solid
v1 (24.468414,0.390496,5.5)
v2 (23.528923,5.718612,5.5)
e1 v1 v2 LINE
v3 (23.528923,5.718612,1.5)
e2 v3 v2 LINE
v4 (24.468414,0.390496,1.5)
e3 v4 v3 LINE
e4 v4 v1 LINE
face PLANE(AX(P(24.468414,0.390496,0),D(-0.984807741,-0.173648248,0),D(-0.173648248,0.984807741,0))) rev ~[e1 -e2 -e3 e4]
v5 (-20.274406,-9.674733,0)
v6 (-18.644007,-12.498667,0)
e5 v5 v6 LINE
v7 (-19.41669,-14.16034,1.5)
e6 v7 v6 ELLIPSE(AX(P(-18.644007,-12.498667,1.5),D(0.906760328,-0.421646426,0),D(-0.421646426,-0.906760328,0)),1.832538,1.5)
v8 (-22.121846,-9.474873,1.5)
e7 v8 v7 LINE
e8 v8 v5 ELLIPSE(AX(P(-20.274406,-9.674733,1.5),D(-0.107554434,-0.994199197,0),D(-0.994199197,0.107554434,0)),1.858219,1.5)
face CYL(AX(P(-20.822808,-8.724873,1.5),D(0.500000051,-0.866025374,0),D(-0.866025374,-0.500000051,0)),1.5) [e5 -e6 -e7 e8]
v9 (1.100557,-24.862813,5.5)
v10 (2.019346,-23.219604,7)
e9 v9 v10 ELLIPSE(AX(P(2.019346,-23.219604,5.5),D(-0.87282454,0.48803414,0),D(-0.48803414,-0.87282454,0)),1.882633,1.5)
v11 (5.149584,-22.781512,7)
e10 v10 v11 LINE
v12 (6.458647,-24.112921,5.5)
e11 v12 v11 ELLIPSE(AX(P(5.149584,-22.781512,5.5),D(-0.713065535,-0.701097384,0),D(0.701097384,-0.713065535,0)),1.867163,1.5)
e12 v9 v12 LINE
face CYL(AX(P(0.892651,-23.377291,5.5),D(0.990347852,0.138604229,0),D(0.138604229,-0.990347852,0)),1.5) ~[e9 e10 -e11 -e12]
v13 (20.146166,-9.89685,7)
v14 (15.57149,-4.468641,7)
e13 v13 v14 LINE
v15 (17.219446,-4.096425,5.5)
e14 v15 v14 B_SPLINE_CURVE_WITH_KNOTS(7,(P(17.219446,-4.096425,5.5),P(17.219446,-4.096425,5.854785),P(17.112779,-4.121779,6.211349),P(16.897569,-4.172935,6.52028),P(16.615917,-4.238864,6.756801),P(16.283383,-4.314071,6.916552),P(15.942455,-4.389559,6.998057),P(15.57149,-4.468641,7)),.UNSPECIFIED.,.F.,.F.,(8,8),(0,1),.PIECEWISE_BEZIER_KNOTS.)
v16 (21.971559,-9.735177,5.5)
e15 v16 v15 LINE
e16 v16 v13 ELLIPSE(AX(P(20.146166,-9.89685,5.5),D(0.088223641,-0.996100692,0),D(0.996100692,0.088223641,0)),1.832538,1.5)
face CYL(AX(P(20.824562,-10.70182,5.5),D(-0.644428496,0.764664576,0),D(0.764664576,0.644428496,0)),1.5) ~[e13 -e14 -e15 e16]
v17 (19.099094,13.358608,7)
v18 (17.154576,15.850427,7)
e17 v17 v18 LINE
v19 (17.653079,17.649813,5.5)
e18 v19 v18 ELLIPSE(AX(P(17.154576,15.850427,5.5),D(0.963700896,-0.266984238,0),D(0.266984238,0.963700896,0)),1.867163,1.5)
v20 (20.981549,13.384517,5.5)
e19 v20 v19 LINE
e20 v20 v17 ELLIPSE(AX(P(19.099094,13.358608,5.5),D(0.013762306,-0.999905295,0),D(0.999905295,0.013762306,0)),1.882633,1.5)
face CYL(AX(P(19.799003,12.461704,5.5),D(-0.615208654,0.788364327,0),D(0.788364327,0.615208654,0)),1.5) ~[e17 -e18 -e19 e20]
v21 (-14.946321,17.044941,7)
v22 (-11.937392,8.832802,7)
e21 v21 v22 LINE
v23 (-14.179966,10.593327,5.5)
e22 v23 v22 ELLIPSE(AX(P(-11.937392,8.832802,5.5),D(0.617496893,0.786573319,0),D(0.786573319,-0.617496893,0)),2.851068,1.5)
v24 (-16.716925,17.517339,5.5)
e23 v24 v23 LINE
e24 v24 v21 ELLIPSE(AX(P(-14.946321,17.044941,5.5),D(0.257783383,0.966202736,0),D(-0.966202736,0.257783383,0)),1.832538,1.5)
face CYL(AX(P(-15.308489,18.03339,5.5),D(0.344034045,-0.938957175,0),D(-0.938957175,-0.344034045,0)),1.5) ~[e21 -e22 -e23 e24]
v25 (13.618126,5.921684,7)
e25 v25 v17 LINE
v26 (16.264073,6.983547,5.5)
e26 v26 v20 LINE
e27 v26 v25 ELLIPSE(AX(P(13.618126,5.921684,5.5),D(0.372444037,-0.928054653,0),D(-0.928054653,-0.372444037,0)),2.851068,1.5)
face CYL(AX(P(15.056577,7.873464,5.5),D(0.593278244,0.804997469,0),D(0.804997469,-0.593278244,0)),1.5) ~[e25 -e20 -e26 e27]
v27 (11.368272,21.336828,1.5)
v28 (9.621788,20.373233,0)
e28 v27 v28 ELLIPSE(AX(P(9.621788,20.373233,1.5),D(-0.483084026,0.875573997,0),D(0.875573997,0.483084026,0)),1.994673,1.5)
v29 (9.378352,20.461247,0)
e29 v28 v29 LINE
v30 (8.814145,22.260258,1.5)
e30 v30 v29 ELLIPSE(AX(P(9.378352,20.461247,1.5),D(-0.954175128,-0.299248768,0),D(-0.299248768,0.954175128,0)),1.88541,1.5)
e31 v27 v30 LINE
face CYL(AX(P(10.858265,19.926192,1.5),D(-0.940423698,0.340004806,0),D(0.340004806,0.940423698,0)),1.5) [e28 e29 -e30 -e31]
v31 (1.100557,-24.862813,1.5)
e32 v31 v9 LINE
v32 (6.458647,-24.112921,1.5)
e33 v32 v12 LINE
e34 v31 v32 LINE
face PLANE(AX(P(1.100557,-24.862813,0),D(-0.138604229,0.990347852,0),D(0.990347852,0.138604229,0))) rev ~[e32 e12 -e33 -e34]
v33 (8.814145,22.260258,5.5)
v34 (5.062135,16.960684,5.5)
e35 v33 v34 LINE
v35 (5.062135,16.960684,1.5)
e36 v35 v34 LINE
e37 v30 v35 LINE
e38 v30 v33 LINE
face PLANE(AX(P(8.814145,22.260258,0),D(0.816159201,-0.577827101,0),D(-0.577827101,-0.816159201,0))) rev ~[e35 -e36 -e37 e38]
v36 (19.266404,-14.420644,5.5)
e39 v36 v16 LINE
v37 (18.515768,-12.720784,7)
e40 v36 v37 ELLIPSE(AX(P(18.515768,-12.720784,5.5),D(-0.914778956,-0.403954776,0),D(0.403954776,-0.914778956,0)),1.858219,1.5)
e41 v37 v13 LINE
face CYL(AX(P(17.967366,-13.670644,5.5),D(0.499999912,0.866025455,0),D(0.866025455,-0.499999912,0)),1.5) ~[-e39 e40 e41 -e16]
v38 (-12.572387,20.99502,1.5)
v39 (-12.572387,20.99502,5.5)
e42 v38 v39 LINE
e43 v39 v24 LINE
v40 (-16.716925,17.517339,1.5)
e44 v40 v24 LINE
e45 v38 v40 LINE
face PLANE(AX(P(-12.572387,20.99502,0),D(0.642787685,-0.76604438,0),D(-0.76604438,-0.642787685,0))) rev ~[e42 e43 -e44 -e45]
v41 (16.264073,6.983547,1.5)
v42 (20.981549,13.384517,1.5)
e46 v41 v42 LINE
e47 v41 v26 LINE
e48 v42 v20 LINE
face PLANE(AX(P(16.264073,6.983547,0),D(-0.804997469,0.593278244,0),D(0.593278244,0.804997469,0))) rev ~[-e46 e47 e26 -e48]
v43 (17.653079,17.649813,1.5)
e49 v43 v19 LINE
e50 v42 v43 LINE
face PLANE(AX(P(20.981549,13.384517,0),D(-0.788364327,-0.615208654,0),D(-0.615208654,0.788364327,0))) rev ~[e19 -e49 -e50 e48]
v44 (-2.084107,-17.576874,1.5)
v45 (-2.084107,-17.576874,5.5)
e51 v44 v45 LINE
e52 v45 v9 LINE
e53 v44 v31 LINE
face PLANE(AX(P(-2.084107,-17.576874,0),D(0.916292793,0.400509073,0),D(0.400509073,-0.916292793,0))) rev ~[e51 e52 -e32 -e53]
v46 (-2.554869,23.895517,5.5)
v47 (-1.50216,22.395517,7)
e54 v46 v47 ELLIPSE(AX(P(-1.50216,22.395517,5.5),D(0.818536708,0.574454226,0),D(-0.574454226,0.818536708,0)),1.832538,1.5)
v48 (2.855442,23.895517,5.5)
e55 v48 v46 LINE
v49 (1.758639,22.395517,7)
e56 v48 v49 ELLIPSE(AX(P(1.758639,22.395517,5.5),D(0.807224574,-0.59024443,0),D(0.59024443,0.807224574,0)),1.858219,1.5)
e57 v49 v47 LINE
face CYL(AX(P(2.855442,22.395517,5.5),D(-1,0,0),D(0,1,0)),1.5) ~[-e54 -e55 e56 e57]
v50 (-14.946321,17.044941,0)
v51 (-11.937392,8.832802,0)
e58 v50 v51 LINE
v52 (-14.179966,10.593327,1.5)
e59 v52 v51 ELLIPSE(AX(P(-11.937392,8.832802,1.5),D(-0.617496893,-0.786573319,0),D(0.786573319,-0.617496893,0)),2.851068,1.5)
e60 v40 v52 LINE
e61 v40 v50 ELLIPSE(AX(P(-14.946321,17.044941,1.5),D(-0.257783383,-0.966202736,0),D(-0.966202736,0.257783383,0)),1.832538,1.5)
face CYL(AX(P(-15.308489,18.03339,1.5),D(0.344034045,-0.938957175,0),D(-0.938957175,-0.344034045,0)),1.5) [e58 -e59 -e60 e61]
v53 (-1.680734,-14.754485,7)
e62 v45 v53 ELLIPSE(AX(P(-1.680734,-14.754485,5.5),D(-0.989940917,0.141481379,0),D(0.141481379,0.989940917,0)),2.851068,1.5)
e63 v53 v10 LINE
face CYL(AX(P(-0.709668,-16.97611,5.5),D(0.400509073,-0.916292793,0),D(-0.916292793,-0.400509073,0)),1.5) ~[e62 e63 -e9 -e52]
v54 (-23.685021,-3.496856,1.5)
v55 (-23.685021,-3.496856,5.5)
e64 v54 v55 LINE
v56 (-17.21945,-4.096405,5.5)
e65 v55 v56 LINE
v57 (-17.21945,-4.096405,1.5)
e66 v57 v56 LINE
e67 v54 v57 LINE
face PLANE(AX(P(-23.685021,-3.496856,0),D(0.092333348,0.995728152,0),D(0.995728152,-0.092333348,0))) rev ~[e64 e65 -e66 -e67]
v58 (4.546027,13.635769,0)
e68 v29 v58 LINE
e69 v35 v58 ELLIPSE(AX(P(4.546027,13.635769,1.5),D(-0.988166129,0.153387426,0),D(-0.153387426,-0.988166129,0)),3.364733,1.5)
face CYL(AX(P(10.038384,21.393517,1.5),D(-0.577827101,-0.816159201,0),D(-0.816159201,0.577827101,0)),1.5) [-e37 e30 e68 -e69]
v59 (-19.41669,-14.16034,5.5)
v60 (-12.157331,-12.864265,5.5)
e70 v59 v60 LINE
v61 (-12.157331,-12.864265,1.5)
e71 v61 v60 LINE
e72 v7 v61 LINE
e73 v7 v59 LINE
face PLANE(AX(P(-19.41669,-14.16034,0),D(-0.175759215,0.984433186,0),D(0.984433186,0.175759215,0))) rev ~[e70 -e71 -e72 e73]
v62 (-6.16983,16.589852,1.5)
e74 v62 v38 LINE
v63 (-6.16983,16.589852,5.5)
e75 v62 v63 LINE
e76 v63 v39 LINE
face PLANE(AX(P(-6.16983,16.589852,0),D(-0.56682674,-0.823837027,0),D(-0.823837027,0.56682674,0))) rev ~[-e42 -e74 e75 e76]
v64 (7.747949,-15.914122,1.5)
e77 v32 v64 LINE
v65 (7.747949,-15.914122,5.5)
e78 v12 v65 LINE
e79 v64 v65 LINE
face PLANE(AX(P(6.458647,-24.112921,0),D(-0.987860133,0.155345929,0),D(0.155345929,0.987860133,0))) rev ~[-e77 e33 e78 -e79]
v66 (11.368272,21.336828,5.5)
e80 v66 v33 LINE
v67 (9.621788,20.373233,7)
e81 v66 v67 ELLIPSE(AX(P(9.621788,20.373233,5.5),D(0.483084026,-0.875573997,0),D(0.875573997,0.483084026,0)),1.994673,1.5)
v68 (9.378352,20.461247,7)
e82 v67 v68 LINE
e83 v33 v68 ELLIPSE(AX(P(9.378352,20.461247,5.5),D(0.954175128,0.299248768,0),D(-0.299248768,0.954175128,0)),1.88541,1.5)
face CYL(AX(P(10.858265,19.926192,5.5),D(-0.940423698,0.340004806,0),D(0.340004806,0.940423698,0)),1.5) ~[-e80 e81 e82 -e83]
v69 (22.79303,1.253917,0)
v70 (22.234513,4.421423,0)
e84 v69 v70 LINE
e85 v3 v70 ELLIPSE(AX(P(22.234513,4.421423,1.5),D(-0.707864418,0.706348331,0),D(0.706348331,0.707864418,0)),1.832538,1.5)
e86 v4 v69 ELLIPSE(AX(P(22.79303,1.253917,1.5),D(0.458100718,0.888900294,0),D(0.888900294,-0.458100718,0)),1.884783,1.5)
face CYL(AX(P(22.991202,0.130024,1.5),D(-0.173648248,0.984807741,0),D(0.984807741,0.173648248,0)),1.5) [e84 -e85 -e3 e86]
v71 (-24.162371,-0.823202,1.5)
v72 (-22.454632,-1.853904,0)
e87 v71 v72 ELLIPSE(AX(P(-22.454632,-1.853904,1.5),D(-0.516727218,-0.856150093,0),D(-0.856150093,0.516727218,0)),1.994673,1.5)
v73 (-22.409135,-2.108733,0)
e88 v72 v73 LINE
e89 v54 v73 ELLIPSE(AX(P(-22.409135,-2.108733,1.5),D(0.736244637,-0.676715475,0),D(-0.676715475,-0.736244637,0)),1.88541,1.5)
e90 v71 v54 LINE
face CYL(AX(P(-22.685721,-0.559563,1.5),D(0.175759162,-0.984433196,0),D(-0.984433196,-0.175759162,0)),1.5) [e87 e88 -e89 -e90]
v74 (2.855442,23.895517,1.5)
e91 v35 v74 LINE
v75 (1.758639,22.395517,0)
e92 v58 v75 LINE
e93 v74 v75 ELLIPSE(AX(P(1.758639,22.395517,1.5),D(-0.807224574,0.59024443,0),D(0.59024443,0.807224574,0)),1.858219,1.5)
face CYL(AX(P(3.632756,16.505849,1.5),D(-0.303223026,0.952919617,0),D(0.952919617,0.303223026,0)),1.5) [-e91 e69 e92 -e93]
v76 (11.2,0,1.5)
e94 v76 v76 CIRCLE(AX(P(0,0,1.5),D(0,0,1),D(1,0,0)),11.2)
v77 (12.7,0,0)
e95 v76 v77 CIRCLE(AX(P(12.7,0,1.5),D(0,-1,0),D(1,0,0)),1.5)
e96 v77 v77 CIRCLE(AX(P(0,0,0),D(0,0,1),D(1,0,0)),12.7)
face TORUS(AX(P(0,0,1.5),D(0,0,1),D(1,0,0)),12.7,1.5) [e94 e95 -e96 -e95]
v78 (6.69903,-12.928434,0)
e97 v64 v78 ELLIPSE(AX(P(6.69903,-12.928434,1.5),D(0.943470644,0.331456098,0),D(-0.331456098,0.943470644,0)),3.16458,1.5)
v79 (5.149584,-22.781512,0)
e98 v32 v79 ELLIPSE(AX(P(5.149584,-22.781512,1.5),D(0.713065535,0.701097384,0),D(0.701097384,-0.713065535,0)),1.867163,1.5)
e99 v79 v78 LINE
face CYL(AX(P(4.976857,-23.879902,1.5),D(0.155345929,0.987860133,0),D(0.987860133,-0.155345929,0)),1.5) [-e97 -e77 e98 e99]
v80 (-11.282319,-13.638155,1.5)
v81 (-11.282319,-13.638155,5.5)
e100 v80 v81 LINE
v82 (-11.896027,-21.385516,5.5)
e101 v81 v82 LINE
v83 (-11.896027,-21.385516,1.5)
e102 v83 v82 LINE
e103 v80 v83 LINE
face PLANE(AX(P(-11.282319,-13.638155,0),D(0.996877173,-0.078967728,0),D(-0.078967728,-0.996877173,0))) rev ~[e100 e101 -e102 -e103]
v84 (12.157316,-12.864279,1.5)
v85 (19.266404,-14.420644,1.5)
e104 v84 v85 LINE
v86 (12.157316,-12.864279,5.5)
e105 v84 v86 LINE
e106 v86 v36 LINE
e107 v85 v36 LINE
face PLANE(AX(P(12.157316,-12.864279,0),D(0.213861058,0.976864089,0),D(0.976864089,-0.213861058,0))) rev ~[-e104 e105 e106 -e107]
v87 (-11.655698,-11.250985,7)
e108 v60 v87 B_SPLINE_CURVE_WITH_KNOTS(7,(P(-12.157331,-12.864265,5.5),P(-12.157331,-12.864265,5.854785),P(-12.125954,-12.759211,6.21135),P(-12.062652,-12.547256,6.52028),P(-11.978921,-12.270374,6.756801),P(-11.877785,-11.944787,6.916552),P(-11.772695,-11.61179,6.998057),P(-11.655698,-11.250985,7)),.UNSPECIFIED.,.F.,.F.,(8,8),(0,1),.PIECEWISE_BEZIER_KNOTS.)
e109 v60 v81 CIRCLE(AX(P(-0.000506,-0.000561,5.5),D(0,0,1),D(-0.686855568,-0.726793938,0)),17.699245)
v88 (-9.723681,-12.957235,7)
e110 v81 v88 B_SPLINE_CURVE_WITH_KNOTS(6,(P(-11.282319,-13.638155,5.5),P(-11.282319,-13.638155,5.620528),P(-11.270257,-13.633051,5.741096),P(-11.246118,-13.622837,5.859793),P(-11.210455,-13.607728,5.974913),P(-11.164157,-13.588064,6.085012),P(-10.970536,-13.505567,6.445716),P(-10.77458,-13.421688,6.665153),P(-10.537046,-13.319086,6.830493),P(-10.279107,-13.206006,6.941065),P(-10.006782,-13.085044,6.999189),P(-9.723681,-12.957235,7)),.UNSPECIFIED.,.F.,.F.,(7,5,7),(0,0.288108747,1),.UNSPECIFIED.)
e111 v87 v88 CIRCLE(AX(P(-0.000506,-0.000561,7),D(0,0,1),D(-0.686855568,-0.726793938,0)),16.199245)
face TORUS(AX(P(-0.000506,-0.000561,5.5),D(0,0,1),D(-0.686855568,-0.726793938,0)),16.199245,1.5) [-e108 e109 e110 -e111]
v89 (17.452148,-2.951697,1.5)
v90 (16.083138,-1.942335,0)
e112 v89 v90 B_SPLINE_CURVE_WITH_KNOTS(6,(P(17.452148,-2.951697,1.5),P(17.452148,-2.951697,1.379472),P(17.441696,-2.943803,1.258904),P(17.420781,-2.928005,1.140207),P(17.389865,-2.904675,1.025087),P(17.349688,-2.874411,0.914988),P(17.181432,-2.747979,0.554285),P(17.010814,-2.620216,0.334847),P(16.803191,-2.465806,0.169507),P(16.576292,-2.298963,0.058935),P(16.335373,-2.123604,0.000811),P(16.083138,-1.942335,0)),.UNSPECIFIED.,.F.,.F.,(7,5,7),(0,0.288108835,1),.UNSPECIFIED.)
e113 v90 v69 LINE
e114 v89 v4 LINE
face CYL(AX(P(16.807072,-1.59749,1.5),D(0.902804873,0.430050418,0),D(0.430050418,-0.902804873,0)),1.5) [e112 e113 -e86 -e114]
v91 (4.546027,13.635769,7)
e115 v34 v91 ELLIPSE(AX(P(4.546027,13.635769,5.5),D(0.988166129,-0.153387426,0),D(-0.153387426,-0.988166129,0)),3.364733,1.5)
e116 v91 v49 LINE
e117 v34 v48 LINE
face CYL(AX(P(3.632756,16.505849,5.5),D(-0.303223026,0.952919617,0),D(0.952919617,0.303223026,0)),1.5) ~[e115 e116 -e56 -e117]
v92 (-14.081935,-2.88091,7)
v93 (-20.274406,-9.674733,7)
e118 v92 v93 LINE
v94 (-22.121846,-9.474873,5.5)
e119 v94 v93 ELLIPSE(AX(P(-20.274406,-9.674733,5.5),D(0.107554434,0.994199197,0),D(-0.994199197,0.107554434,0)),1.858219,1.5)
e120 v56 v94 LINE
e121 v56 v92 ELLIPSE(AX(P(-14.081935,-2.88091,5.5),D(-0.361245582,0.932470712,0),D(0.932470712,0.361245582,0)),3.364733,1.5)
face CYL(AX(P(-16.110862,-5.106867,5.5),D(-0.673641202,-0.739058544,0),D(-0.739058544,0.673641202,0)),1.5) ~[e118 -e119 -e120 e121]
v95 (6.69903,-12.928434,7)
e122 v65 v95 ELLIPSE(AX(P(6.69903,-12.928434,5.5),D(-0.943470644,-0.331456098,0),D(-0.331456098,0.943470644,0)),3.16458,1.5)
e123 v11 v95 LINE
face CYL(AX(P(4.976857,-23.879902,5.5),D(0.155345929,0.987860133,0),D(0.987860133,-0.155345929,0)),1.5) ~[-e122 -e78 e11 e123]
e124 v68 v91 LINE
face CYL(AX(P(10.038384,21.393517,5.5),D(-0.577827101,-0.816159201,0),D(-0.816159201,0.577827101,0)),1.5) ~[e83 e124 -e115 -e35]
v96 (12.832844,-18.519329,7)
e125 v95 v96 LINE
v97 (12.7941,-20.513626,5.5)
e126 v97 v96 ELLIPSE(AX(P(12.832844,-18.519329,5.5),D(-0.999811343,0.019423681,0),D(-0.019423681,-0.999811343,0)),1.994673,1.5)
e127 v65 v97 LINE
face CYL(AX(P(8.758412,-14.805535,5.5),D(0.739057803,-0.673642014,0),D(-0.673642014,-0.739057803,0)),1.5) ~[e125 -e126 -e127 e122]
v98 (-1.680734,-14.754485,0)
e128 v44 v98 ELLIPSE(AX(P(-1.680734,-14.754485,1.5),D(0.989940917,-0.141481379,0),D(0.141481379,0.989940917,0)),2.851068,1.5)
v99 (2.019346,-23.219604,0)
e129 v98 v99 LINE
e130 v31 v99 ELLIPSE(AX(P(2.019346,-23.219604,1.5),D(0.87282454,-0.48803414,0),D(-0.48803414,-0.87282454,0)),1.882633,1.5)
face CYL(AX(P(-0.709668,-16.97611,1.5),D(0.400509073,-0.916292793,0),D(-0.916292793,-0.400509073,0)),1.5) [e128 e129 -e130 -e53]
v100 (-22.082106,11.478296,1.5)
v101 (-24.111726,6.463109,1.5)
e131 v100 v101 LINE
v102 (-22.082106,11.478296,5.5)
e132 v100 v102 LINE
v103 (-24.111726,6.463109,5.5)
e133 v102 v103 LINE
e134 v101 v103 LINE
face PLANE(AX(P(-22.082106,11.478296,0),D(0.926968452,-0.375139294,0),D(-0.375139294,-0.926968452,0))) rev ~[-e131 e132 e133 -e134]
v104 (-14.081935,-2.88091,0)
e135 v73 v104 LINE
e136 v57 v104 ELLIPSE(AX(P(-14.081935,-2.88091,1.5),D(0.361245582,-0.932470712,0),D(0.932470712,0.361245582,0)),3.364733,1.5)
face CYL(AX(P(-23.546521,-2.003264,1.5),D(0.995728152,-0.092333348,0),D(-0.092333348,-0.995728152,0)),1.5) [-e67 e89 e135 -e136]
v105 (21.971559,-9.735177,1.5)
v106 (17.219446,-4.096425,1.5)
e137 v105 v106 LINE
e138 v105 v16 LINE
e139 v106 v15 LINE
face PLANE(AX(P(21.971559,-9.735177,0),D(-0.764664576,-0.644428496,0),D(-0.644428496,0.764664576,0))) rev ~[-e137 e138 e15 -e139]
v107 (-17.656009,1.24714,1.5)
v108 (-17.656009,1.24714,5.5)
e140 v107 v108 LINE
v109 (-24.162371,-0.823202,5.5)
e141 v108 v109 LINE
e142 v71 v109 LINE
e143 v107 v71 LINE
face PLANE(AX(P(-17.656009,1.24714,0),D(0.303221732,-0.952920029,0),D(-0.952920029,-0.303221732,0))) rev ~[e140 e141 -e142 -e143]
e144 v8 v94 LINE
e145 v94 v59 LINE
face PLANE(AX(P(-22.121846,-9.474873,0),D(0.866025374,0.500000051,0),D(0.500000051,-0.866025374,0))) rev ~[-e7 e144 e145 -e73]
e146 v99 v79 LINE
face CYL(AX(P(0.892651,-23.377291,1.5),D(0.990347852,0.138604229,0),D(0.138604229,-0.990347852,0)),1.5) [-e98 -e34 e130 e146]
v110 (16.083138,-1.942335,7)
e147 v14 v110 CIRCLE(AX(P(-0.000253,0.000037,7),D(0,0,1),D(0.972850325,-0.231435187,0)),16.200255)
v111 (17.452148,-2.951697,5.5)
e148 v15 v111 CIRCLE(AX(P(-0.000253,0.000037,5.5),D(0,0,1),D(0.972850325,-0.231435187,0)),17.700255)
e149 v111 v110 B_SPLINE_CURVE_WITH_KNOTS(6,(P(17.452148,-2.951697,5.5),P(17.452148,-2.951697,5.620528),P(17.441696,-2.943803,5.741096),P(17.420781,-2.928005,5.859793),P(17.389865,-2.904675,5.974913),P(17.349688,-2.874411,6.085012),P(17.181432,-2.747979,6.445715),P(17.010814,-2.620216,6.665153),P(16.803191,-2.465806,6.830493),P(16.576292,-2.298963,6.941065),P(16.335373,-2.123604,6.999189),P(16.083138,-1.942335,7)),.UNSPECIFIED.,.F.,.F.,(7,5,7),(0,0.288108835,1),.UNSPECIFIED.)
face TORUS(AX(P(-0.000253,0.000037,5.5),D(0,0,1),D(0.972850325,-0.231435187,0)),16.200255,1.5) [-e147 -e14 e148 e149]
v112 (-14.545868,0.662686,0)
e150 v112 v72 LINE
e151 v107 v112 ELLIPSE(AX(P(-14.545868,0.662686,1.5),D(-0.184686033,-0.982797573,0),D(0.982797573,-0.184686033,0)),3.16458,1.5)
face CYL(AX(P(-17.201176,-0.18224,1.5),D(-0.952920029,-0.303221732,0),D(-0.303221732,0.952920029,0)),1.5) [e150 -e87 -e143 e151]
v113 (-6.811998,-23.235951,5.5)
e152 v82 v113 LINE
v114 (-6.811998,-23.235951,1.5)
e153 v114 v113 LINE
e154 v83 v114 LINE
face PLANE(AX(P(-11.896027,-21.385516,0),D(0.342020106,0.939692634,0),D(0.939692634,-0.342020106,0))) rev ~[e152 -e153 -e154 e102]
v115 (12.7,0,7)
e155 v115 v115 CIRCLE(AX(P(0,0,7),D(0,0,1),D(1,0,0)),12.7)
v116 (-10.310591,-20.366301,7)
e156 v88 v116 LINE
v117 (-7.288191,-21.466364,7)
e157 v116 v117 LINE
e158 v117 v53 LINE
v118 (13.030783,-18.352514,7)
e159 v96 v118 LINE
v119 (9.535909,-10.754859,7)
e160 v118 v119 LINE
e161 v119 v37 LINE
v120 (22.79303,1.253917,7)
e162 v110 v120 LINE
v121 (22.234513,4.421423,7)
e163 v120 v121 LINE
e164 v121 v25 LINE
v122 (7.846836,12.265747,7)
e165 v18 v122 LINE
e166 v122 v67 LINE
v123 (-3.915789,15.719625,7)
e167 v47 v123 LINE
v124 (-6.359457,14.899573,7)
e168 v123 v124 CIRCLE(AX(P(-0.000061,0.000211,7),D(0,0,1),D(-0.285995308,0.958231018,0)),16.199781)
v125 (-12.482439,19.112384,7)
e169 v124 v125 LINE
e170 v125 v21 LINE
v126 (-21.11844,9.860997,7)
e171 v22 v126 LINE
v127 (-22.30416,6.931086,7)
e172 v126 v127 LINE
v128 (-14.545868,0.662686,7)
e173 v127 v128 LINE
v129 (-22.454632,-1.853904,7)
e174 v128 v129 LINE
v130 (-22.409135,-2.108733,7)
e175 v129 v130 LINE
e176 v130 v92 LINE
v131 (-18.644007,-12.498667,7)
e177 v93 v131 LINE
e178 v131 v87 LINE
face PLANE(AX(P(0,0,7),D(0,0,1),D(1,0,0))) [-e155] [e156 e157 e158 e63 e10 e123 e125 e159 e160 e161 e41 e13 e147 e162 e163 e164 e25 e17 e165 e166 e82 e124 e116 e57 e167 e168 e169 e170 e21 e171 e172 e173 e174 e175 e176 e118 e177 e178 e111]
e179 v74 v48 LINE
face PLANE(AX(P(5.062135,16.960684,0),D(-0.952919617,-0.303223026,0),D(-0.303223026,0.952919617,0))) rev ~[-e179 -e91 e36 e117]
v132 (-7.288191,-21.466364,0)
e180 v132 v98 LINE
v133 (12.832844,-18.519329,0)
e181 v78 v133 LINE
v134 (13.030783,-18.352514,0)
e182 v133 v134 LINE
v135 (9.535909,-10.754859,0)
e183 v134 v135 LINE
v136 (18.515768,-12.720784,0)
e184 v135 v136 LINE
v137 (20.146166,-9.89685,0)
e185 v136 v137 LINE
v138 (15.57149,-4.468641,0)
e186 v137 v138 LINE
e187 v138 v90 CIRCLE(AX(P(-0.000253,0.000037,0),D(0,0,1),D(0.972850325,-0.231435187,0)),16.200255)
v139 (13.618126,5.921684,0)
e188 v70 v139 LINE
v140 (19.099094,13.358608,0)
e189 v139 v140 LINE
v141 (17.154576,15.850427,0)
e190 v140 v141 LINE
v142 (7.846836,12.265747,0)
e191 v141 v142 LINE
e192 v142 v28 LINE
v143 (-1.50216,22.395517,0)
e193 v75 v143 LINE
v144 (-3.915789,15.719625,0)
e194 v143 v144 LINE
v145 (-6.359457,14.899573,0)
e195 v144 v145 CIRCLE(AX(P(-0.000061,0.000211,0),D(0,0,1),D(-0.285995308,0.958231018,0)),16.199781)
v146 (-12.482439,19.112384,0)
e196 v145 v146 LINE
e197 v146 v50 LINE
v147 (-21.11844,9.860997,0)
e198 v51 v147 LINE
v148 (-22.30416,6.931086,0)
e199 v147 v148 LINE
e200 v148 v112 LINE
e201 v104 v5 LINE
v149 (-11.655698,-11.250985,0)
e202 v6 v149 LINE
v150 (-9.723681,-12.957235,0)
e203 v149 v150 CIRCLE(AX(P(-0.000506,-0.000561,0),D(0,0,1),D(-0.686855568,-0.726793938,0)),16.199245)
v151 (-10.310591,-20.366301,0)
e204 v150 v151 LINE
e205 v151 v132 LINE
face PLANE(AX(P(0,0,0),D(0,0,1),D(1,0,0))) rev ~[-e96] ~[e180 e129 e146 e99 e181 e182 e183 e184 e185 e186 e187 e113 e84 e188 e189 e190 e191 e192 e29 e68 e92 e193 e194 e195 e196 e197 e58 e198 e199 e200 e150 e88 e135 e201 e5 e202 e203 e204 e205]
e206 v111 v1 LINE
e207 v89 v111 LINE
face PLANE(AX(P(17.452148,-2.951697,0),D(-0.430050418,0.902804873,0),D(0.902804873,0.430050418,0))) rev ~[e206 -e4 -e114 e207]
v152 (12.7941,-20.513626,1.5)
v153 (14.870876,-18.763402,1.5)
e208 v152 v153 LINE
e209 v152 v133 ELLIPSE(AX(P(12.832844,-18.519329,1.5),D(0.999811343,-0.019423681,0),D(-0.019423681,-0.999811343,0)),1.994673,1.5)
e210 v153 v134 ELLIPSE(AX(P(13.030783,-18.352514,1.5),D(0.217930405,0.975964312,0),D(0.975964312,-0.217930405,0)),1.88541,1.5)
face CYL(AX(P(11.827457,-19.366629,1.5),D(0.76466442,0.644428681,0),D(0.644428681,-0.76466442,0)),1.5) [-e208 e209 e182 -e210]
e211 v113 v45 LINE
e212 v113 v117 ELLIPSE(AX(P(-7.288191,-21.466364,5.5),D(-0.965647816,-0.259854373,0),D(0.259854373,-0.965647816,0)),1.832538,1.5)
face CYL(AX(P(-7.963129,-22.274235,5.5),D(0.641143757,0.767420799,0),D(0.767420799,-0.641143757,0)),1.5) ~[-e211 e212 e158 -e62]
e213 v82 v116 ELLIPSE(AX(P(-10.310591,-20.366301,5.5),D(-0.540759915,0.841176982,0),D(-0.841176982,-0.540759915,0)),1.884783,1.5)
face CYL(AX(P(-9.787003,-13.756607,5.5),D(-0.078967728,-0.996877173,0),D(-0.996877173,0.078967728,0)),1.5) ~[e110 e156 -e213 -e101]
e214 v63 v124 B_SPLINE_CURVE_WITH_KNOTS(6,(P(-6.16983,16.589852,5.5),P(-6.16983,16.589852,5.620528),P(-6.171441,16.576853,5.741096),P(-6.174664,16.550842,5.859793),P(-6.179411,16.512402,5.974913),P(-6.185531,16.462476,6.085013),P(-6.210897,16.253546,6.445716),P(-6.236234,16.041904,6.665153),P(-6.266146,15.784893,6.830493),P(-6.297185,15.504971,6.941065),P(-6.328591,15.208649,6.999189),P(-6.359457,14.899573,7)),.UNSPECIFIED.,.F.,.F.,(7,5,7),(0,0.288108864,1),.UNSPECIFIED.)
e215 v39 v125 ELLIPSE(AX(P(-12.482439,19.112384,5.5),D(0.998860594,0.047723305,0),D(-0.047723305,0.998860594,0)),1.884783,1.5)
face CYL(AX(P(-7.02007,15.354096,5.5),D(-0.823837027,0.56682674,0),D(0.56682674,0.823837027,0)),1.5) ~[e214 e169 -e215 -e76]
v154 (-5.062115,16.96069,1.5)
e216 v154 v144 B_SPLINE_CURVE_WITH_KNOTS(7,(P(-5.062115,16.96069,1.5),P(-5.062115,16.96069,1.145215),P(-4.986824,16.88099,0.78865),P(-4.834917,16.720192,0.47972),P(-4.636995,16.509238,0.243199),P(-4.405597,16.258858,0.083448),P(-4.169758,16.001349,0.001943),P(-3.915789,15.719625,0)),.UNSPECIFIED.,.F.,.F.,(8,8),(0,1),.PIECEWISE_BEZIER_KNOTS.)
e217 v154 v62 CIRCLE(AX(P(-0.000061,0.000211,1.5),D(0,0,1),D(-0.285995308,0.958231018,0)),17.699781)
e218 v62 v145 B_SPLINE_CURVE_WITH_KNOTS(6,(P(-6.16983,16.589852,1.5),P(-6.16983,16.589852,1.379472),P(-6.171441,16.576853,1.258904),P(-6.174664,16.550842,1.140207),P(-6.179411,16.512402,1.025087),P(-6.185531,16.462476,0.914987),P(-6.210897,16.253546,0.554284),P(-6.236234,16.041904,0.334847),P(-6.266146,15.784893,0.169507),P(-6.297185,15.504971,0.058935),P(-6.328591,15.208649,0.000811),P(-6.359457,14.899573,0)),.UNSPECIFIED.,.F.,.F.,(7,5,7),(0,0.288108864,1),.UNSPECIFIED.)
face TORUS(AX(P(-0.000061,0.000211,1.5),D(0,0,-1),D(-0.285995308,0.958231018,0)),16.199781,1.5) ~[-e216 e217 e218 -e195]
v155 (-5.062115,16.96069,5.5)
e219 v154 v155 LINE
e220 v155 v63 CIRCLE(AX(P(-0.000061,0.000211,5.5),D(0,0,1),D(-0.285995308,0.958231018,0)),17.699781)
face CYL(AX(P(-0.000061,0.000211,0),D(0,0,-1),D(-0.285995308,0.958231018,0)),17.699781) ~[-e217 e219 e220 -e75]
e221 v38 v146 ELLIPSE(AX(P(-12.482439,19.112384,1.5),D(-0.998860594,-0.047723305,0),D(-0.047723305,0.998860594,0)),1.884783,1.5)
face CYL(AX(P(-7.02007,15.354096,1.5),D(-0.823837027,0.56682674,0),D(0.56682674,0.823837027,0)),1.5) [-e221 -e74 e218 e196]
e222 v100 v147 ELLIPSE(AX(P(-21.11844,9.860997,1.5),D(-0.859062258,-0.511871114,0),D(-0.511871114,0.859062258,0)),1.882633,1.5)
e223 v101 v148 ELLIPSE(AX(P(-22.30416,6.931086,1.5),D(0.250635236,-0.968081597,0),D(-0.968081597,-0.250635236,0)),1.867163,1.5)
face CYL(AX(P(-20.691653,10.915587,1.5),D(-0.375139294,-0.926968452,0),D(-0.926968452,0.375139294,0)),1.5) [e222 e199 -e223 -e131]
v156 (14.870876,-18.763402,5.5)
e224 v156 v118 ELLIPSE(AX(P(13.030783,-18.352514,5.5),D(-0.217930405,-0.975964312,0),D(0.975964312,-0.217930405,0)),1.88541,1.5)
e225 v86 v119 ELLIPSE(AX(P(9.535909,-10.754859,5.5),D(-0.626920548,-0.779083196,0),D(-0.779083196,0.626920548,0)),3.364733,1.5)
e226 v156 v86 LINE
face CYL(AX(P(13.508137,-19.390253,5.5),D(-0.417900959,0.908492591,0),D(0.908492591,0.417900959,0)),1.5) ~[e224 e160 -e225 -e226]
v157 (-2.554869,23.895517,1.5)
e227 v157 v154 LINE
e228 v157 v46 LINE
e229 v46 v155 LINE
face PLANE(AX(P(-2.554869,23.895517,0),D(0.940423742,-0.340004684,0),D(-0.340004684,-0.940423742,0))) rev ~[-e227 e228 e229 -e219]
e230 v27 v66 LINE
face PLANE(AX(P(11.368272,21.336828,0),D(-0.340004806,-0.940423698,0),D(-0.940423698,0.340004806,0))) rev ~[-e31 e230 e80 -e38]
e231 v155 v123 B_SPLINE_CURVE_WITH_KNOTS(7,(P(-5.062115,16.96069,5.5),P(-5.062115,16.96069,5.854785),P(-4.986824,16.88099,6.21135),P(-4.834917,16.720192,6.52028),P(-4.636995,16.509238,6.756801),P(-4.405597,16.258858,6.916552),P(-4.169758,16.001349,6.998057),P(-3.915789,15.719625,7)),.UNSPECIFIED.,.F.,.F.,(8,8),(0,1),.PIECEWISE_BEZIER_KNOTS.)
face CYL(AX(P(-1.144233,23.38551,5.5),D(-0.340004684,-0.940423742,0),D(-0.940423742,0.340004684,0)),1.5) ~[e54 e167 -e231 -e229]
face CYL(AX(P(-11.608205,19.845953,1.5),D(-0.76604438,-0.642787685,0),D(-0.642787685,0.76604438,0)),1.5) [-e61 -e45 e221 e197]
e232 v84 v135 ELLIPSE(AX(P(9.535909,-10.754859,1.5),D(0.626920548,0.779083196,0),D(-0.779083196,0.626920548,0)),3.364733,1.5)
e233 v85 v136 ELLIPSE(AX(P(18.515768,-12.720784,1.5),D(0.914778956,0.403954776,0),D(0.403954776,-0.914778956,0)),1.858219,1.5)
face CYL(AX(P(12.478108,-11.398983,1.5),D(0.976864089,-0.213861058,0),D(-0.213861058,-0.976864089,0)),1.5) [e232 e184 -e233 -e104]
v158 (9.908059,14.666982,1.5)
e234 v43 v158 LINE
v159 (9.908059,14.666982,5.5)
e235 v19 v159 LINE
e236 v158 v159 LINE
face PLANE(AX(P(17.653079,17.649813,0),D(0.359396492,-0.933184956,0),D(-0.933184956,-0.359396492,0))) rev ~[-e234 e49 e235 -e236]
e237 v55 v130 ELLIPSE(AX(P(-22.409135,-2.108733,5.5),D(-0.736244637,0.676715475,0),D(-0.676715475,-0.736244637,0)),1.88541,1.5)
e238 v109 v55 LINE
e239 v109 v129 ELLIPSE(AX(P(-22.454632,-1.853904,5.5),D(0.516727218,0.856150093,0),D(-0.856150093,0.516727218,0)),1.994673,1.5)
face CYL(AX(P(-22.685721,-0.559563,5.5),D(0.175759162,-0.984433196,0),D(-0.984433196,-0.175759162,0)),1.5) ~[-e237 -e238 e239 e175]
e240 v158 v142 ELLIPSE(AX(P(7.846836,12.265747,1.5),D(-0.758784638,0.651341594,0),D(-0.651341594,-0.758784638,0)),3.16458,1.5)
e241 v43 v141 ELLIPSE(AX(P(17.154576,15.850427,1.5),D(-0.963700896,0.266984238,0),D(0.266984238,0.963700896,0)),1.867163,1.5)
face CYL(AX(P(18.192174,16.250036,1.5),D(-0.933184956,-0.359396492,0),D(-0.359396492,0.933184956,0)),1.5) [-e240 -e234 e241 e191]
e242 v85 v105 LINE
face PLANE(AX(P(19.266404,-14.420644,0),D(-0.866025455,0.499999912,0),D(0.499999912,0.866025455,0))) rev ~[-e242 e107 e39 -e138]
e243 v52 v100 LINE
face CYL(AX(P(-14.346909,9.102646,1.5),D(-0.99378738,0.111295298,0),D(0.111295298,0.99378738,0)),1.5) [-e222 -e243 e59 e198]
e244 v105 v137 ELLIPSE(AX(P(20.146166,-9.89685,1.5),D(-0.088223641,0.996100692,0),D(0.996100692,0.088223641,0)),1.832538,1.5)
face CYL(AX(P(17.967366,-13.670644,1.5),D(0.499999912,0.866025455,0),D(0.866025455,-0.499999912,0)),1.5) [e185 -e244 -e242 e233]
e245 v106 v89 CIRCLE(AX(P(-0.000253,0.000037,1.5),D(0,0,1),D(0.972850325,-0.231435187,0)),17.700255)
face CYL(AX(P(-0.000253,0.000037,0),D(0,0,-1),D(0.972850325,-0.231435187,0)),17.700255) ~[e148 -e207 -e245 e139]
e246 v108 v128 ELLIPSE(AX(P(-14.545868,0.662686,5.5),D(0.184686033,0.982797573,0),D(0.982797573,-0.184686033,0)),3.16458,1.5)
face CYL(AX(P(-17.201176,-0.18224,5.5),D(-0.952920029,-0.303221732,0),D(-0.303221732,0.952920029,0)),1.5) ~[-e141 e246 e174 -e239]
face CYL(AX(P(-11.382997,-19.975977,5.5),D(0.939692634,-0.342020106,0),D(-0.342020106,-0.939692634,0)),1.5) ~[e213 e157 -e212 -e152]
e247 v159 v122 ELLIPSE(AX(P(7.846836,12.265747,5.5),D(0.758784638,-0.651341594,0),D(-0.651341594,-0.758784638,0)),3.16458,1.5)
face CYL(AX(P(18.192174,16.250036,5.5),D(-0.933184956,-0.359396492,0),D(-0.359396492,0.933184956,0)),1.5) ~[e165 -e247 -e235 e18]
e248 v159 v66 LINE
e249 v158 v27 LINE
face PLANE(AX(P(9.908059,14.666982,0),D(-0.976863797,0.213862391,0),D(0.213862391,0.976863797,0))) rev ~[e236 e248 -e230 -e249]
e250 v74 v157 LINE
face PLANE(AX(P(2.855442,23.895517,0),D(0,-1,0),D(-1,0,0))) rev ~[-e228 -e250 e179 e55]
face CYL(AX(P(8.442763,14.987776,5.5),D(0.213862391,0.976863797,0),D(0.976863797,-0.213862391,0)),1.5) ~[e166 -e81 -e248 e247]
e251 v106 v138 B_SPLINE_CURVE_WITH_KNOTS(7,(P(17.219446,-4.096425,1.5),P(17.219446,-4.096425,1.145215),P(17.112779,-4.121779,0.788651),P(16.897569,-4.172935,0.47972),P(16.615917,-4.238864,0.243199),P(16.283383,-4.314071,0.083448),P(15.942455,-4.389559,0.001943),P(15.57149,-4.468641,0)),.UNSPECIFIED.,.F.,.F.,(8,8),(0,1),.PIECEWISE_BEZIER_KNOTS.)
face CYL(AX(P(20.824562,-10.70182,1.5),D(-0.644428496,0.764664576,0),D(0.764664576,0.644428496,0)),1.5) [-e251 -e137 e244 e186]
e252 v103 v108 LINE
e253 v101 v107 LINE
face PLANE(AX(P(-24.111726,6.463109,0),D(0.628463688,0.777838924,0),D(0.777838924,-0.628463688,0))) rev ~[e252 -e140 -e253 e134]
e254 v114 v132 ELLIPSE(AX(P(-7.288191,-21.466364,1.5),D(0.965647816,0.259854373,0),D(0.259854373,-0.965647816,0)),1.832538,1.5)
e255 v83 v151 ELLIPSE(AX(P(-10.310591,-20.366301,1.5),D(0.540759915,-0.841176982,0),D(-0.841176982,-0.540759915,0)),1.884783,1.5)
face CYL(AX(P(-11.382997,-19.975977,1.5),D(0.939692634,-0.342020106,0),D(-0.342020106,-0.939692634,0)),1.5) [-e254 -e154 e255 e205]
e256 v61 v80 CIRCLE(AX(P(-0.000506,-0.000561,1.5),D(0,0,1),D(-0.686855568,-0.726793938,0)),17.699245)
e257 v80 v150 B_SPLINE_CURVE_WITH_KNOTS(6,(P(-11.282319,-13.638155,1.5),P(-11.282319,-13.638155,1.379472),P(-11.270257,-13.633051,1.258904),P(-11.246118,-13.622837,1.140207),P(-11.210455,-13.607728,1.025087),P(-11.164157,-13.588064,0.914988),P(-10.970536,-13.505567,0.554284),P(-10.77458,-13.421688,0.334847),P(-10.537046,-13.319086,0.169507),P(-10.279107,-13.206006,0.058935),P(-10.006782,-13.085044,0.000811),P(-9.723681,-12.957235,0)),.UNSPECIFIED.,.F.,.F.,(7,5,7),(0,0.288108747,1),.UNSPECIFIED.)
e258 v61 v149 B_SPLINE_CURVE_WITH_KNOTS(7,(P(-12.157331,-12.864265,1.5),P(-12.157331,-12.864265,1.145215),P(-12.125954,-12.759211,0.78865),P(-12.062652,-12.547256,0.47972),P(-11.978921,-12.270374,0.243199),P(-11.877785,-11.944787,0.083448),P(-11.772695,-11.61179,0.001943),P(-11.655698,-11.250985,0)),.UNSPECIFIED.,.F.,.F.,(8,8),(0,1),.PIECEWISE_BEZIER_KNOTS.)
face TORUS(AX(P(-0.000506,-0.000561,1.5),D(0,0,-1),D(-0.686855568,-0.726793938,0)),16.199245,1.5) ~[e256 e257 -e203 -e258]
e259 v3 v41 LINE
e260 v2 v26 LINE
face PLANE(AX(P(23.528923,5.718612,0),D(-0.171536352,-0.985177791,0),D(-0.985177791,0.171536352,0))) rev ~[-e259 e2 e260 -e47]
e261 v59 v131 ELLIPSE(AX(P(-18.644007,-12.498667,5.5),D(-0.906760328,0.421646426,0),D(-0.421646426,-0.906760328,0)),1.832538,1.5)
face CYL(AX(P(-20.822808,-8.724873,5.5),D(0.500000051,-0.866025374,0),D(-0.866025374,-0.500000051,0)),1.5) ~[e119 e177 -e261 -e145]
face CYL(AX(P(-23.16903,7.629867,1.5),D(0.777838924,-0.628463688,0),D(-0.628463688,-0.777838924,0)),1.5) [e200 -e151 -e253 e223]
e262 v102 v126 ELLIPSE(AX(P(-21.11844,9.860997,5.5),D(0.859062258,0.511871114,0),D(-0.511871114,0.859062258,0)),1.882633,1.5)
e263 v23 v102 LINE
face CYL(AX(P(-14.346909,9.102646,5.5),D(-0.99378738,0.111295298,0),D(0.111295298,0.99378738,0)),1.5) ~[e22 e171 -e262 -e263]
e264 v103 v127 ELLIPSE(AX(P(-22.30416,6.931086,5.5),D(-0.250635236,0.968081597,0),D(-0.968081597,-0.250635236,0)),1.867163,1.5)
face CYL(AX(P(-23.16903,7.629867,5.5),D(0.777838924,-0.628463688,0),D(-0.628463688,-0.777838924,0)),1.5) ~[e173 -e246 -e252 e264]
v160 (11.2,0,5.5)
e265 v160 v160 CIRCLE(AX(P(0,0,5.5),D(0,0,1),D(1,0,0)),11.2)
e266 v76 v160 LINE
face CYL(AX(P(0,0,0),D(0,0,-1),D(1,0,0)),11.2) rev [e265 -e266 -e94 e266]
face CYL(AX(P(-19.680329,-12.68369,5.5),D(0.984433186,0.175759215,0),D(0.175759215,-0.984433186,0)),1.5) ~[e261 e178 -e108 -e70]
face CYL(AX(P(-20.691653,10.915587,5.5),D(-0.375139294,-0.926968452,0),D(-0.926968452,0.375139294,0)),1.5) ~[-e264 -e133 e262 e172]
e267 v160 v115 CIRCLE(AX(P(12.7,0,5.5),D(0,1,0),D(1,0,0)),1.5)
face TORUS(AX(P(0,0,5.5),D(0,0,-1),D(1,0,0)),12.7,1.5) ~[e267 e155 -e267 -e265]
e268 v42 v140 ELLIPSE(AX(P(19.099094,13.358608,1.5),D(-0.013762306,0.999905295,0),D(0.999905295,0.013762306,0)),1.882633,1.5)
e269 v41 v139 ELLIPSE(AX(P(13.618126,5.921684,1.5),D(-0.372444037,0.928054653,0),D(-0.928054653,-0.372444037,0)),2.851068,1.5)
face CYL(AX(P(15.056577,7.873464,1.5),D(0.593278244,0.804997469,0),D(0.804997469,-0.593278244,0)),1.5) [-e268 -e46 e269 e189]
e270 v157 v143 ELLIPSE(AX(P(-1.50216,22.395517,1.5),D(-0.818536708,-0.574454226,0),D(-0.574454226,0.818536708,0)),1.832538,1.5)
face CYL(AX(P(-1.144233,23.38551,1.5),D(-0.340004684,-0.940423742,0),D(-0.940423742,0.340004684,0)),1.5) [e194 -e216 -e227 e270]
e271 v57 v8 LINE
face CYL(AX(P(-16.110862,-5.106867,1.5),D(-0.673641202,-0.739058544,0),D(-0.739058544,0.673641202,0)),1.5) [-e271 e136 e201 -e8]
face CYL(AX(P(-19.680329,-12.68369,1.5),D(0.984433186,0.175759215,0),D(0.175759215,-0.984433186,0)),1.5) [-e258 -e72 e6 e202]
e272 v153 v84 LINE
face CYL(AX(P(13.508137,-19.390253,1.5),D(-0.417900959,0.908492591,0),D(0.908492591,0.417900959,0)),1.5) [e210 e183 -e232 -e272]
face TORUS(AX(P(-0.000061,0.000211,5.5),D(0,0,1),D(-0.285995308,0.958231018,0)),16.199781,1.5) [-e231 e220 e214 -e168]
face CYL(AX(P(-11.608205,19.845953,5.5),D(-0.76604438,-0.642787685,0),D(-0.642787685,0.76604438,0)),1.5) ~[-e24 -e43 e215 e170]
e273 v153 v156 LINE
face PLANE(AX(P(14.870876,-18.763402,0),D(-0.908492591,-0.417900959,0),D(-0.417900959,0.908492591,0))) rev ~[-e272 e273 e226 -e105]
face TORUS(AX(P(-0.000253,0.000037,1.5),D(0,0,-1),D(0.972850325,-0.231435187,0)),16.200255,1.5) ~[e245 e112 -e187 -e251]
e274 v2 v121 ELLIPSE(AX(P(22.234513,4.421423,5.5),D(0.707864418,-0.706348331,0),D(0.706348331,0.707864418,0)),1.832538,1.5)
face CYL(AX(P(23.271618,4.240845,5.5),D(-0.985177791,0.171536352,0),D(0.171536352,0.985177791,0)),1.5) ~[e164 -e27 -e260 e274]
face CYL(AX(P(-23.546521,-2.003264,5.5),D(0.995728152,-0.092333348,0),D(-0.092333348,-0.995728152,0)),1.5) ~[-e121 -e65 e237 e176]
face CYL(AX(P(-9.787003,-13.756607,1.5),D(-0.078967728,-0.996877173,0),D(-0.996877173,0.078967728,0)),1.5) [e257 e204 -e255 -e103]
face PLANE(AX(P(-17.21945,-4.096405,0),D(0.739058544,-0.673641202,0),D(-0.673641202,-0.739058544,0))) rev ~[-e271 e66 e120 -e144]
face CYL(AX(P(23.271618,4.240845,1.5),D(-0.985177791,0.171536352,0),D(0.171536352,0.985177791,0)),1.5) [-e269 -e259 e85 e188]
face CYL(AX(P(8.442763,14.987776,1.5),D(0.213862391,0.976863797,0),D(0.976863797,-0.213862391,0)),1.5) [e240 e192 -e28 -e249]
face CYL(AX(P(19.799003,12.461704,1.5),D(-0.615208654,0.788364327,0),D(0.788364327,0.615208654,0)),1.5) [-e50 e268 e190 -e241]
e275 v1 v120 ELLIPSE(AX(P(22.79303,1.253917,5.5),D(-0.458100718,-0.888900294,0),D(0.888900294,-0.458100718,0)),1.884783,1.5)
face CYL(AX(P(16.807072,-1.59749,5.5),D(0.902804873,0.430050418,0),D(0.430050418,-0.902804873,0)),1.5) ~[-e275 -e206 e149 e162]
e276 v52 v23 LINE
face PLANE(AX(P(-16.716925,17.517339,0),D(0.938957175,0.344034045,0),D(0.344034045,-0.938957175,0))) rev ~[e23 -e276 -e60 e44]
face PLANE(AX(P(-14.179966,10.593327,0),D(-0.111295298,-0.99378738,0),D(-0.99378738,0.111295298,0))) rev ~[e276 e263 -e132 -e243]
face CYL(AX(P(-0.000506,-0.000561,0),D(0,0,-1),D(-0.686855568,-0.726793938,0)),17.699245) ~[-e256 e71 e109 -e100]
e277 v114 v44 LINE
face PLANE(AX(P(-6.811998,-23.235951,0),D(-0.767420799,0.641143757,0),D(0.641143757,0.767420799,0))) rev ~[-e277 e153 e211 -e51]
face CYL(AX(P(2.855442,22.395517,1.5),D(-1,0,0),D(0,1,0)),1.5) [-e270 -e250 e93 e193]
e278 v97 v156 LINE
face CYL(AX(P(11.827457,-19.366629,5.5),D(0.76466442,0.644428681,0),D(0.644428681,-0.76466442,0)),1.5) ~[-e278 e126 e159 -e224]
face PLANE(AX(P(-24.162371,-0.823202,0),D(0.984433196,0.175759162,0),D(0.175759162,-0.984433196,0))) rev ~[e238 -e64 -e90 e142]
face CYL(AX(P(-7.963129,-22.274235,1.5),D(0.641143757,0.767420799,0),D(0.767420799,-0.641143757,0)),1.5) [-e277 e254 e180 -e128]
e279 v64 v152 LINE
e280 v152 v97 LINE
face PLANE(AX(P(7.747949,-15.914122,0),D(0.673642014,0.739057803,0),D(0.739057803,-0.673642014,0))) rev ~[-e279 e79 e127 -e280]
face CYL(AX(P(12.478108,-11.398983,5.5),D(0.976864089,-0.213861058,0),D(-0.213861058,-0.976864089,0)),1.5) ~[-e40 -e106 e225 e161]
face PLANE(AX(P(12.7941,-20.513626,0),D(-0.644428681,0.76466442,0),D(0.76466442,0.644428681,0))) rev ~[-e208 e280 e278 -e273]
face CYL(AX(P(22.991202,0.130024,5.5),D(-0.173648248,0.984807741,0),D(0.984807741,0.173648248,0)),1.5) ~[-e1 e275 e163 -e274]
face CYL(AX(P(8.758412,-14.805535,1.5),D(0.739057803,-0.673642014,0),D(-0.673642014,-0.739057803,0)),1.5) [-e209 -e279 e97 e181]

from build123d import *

# Parameters (mm, degrees)
F0_R     = 11.2
F1_DEPTH = 7
F2_R     = 1.5


with BuildPart() as f1:
    # F0 (on Top) → F1 (new body)
    with BuildSketch(Plane.XY):
        with BuildLine():
            Line((-2.554869, 23.895517), (-5.062115, 16.96069))
            ThreePointArc((-5.062115, 16.96069), (-5.619032, 16.784412), (-6.16983, 16.589852))
            Line((-6.16983, 16.589852), (-12.572387, 20.99502))
            Line((-12.572387, 20.99502), (-16.716925, 17.517339))
            Line((-16.716925, 17.517339), (-14.179966, 10.593327))
            Line((-14.179966, 10.593327), (-22.082106, 11.478296))
            Line((-22.082106, 11.478296), (-24.111726, 6.463109))
            Line((-24.111726, 6.463109), (-17.656009, 1.24714))
            Line((-17.656009, 1.24714), (-24.162371, -0.823202))
            Line((-24.162371, -0.823202), (-23.685021, -3.496856))
            Line((-23.685021, -3.496856), (-17.21945, -4.096405))
            Line((-17.21945, -4.096405), (-22.121846, -9.474873))
            Line((-22.121846, -9.474873), (-19.41669, -14.16034))
            Line((-19.41669, -14.16034), (-12.157331, -12.864265))
            ThreePointArc((-12.157331, -12.864265), (-11.726211, -13.258431), (-11.282319, -13.638155))
            Line((-11.282319, -13.638155), (-11.896027, -21.385516))
            Line((-11.896027, -21.385516), (-6.811998, -23.235951))
            Line((-6.811998, -23.235951), (-2.084107, -17.576874))
            Line((-2.084107, -17.576874), (1.100557, -24.862813))
            Line((1.100557, -24.862813), (6.458647, -24.112921))
            Line((6.458647, -24.112921), (7.747949, -15.914122))
            Line((7.747949, -15.914122), (12.7941, -20.513626))
            Line((12.7941, -20.513626), (14.870876, -18.763402))
            Line((14.870876, -18.763402), (12.157316, -12.864279))
            Line((12.157316, -12.864279), (19.266404, -14.420644))
            Line((19.266404, -14.420644), (21.971559, -9.735177))
            Line((21.971559, -9.735177), (17.219446, -4.096425))
            ThreePointArc((17.219446, -4.096425), (17.345243, -3.525981), (17.452148, -2.951697))
            Line((17.452148, -2.951697), (24.468414, 0.390496))
            Line((24.468414, 0.390496), (23.528923, 5.718612))
            Line((23.528923, 5.718612), (16.264073, 6.983547))
            Line((16.264073, 6.983547), (20.981549, 13.384517))
            Line((20.981549, 13.384517), (17.653079, 17.649813))
            Line((17.653079, 17.649813), (9.908059, 14.666982))
            Line((9.908059, 14.666982), (11.368272, 21.336828))
            Line((11.368272, 21.336828), (8.814145, 22.260258))
            Line((8.814145, 22.260258), (5.062135, 16.960684))
            Line((5.062135, 16.960684), (2.855442, 23.895517))
            Line((2.855442, 23.895517), (-2.554869, 23.895517))
        make_face()
        Circle(F0_R, mode=Mode.SUBTRACT)
    extrude(amount=F1_DEPTH)

    # F2
    f2_edges = [f1.edges().sort_by_distance(p)[0] for p in [
        (17.345243, -3.525981, 0),
        (20.960281, -1.2806, 0),
        (23.998669, 3.054554, 0),
        (19.896498, 6.35108, 0),
        (18.622811, 10.184032, 0),
        (19.317314, 15.517165, 0),
        (13.780569, 16.158397, 0),
        (10.638166, 18.001905, 0),
        (10.091208, 21.798543, 0),
        (6.93814, 19.610471, 0),
        (3.958788, 20.4281, 0),
        (0.150286, 23.895517, 0),
        (-3.808492, 20.428103, 0),
        (-5.619032, 16.784412, 0),
        (-9.371108, 18.792436, 0),
        (-14.644656, 19.25618, 0),
        (-15.448445, 14.055333, 0),
        (-18.131036, 11.035811, 0),
        (-23.096916, 8.970702, 0),
        (-20.883867, 3.855124, 0),
        (-20.90919, 0.211969, 0),
        (-23.923696, -2.160029, 0),
        (-20.452236, -3.79663, 0),
        (-19.670648, -6.785639, 0),
        (-20.769268, -11.817607, 0),
        (-15.787011, -13.512302, 0),
        (-11.726211, -13.258431, 0),
        (-11.589173, -17.511836, 0),
        (-9.354013, -22.310734, 0),
        (-4.448053, -20.406413, 0),
        (-0.491775, -21.219843, 0),
        (3.779602, -24.487867, 0),
        (7.103298, -20.013522, 0),
        (10.271024, -18.213874, 0),
        (13.832488, -19.638514, 0),
        (13.514096, -15.813841, 0),
        (15.71186, -13.642461, 0),
        (20.618982, -12.07791, 0),
        (19.595502, -6.915801, 0),
        (-11.2, 0, 0),
        (17.345243, -3.525981, 7),
        (20.960281, -1.2806, 7),
        (23.998669, 3.054554, 7),
        (19.896498, 6.35108, 7),
        (18.622811, 10.184032, 7),
        (19.317314, 15.517165, 7),
        (13.780569, 16.158397, 7),
        (10.638166, 18.001905, 7),
        (10.091208, 21.798543, 7),
        (6.93814, 19.610471, 7),
        (3.958788, 20.4281, 7),
        (0.150286, 23.895517, 7),
        (-3.808492, 20.428103, 7),
        (-5.619032, 16.784412, 7),
        (-9.371108, 18.792436, 7),
        (-14.644656, 19.25618, 7),
        (-15.448445, 14.055333, 7),
        (-18.131036, 11.035811, 7),
        (-23.096916, 8.970702, 7),
        (-20.883867, 3.855124, 7),
        (-20.90919, 0.211969, 7),
        (-23.923696, -2.160029, 7),
        (-20.452236, -3.79663, 7),
        (-19.670648, -6.785639, 7),
        (-20.769268, -11.817607, 7),
        (-15.787011, -13.512302, 7),
        (-11.726211, -13.258431, 7),
        (-11.589173, -17.511836, 7),
        (-9.354013, -22.310734, 7),
        (-4.448053, -20.406413, 7),
        (-0.491775, -21.219843, 7),
        (3.779602, -24.487867, 7),
        (7.103298, -20.013522, 7),
        (10.271024, -18.213874, 7),
        (13.832488, -19.638514, 7),
        (13.514096, -15.813841, 7),
        (15.71186, -13.642461, 7),
        (20.618982, -12.07791, 7),
        (19.595502, -6.915801, 7),
        (-11.2, 0, 7),
    ]]
    fillet(f2_edges, radius=F2_R)


solid = f1.part
